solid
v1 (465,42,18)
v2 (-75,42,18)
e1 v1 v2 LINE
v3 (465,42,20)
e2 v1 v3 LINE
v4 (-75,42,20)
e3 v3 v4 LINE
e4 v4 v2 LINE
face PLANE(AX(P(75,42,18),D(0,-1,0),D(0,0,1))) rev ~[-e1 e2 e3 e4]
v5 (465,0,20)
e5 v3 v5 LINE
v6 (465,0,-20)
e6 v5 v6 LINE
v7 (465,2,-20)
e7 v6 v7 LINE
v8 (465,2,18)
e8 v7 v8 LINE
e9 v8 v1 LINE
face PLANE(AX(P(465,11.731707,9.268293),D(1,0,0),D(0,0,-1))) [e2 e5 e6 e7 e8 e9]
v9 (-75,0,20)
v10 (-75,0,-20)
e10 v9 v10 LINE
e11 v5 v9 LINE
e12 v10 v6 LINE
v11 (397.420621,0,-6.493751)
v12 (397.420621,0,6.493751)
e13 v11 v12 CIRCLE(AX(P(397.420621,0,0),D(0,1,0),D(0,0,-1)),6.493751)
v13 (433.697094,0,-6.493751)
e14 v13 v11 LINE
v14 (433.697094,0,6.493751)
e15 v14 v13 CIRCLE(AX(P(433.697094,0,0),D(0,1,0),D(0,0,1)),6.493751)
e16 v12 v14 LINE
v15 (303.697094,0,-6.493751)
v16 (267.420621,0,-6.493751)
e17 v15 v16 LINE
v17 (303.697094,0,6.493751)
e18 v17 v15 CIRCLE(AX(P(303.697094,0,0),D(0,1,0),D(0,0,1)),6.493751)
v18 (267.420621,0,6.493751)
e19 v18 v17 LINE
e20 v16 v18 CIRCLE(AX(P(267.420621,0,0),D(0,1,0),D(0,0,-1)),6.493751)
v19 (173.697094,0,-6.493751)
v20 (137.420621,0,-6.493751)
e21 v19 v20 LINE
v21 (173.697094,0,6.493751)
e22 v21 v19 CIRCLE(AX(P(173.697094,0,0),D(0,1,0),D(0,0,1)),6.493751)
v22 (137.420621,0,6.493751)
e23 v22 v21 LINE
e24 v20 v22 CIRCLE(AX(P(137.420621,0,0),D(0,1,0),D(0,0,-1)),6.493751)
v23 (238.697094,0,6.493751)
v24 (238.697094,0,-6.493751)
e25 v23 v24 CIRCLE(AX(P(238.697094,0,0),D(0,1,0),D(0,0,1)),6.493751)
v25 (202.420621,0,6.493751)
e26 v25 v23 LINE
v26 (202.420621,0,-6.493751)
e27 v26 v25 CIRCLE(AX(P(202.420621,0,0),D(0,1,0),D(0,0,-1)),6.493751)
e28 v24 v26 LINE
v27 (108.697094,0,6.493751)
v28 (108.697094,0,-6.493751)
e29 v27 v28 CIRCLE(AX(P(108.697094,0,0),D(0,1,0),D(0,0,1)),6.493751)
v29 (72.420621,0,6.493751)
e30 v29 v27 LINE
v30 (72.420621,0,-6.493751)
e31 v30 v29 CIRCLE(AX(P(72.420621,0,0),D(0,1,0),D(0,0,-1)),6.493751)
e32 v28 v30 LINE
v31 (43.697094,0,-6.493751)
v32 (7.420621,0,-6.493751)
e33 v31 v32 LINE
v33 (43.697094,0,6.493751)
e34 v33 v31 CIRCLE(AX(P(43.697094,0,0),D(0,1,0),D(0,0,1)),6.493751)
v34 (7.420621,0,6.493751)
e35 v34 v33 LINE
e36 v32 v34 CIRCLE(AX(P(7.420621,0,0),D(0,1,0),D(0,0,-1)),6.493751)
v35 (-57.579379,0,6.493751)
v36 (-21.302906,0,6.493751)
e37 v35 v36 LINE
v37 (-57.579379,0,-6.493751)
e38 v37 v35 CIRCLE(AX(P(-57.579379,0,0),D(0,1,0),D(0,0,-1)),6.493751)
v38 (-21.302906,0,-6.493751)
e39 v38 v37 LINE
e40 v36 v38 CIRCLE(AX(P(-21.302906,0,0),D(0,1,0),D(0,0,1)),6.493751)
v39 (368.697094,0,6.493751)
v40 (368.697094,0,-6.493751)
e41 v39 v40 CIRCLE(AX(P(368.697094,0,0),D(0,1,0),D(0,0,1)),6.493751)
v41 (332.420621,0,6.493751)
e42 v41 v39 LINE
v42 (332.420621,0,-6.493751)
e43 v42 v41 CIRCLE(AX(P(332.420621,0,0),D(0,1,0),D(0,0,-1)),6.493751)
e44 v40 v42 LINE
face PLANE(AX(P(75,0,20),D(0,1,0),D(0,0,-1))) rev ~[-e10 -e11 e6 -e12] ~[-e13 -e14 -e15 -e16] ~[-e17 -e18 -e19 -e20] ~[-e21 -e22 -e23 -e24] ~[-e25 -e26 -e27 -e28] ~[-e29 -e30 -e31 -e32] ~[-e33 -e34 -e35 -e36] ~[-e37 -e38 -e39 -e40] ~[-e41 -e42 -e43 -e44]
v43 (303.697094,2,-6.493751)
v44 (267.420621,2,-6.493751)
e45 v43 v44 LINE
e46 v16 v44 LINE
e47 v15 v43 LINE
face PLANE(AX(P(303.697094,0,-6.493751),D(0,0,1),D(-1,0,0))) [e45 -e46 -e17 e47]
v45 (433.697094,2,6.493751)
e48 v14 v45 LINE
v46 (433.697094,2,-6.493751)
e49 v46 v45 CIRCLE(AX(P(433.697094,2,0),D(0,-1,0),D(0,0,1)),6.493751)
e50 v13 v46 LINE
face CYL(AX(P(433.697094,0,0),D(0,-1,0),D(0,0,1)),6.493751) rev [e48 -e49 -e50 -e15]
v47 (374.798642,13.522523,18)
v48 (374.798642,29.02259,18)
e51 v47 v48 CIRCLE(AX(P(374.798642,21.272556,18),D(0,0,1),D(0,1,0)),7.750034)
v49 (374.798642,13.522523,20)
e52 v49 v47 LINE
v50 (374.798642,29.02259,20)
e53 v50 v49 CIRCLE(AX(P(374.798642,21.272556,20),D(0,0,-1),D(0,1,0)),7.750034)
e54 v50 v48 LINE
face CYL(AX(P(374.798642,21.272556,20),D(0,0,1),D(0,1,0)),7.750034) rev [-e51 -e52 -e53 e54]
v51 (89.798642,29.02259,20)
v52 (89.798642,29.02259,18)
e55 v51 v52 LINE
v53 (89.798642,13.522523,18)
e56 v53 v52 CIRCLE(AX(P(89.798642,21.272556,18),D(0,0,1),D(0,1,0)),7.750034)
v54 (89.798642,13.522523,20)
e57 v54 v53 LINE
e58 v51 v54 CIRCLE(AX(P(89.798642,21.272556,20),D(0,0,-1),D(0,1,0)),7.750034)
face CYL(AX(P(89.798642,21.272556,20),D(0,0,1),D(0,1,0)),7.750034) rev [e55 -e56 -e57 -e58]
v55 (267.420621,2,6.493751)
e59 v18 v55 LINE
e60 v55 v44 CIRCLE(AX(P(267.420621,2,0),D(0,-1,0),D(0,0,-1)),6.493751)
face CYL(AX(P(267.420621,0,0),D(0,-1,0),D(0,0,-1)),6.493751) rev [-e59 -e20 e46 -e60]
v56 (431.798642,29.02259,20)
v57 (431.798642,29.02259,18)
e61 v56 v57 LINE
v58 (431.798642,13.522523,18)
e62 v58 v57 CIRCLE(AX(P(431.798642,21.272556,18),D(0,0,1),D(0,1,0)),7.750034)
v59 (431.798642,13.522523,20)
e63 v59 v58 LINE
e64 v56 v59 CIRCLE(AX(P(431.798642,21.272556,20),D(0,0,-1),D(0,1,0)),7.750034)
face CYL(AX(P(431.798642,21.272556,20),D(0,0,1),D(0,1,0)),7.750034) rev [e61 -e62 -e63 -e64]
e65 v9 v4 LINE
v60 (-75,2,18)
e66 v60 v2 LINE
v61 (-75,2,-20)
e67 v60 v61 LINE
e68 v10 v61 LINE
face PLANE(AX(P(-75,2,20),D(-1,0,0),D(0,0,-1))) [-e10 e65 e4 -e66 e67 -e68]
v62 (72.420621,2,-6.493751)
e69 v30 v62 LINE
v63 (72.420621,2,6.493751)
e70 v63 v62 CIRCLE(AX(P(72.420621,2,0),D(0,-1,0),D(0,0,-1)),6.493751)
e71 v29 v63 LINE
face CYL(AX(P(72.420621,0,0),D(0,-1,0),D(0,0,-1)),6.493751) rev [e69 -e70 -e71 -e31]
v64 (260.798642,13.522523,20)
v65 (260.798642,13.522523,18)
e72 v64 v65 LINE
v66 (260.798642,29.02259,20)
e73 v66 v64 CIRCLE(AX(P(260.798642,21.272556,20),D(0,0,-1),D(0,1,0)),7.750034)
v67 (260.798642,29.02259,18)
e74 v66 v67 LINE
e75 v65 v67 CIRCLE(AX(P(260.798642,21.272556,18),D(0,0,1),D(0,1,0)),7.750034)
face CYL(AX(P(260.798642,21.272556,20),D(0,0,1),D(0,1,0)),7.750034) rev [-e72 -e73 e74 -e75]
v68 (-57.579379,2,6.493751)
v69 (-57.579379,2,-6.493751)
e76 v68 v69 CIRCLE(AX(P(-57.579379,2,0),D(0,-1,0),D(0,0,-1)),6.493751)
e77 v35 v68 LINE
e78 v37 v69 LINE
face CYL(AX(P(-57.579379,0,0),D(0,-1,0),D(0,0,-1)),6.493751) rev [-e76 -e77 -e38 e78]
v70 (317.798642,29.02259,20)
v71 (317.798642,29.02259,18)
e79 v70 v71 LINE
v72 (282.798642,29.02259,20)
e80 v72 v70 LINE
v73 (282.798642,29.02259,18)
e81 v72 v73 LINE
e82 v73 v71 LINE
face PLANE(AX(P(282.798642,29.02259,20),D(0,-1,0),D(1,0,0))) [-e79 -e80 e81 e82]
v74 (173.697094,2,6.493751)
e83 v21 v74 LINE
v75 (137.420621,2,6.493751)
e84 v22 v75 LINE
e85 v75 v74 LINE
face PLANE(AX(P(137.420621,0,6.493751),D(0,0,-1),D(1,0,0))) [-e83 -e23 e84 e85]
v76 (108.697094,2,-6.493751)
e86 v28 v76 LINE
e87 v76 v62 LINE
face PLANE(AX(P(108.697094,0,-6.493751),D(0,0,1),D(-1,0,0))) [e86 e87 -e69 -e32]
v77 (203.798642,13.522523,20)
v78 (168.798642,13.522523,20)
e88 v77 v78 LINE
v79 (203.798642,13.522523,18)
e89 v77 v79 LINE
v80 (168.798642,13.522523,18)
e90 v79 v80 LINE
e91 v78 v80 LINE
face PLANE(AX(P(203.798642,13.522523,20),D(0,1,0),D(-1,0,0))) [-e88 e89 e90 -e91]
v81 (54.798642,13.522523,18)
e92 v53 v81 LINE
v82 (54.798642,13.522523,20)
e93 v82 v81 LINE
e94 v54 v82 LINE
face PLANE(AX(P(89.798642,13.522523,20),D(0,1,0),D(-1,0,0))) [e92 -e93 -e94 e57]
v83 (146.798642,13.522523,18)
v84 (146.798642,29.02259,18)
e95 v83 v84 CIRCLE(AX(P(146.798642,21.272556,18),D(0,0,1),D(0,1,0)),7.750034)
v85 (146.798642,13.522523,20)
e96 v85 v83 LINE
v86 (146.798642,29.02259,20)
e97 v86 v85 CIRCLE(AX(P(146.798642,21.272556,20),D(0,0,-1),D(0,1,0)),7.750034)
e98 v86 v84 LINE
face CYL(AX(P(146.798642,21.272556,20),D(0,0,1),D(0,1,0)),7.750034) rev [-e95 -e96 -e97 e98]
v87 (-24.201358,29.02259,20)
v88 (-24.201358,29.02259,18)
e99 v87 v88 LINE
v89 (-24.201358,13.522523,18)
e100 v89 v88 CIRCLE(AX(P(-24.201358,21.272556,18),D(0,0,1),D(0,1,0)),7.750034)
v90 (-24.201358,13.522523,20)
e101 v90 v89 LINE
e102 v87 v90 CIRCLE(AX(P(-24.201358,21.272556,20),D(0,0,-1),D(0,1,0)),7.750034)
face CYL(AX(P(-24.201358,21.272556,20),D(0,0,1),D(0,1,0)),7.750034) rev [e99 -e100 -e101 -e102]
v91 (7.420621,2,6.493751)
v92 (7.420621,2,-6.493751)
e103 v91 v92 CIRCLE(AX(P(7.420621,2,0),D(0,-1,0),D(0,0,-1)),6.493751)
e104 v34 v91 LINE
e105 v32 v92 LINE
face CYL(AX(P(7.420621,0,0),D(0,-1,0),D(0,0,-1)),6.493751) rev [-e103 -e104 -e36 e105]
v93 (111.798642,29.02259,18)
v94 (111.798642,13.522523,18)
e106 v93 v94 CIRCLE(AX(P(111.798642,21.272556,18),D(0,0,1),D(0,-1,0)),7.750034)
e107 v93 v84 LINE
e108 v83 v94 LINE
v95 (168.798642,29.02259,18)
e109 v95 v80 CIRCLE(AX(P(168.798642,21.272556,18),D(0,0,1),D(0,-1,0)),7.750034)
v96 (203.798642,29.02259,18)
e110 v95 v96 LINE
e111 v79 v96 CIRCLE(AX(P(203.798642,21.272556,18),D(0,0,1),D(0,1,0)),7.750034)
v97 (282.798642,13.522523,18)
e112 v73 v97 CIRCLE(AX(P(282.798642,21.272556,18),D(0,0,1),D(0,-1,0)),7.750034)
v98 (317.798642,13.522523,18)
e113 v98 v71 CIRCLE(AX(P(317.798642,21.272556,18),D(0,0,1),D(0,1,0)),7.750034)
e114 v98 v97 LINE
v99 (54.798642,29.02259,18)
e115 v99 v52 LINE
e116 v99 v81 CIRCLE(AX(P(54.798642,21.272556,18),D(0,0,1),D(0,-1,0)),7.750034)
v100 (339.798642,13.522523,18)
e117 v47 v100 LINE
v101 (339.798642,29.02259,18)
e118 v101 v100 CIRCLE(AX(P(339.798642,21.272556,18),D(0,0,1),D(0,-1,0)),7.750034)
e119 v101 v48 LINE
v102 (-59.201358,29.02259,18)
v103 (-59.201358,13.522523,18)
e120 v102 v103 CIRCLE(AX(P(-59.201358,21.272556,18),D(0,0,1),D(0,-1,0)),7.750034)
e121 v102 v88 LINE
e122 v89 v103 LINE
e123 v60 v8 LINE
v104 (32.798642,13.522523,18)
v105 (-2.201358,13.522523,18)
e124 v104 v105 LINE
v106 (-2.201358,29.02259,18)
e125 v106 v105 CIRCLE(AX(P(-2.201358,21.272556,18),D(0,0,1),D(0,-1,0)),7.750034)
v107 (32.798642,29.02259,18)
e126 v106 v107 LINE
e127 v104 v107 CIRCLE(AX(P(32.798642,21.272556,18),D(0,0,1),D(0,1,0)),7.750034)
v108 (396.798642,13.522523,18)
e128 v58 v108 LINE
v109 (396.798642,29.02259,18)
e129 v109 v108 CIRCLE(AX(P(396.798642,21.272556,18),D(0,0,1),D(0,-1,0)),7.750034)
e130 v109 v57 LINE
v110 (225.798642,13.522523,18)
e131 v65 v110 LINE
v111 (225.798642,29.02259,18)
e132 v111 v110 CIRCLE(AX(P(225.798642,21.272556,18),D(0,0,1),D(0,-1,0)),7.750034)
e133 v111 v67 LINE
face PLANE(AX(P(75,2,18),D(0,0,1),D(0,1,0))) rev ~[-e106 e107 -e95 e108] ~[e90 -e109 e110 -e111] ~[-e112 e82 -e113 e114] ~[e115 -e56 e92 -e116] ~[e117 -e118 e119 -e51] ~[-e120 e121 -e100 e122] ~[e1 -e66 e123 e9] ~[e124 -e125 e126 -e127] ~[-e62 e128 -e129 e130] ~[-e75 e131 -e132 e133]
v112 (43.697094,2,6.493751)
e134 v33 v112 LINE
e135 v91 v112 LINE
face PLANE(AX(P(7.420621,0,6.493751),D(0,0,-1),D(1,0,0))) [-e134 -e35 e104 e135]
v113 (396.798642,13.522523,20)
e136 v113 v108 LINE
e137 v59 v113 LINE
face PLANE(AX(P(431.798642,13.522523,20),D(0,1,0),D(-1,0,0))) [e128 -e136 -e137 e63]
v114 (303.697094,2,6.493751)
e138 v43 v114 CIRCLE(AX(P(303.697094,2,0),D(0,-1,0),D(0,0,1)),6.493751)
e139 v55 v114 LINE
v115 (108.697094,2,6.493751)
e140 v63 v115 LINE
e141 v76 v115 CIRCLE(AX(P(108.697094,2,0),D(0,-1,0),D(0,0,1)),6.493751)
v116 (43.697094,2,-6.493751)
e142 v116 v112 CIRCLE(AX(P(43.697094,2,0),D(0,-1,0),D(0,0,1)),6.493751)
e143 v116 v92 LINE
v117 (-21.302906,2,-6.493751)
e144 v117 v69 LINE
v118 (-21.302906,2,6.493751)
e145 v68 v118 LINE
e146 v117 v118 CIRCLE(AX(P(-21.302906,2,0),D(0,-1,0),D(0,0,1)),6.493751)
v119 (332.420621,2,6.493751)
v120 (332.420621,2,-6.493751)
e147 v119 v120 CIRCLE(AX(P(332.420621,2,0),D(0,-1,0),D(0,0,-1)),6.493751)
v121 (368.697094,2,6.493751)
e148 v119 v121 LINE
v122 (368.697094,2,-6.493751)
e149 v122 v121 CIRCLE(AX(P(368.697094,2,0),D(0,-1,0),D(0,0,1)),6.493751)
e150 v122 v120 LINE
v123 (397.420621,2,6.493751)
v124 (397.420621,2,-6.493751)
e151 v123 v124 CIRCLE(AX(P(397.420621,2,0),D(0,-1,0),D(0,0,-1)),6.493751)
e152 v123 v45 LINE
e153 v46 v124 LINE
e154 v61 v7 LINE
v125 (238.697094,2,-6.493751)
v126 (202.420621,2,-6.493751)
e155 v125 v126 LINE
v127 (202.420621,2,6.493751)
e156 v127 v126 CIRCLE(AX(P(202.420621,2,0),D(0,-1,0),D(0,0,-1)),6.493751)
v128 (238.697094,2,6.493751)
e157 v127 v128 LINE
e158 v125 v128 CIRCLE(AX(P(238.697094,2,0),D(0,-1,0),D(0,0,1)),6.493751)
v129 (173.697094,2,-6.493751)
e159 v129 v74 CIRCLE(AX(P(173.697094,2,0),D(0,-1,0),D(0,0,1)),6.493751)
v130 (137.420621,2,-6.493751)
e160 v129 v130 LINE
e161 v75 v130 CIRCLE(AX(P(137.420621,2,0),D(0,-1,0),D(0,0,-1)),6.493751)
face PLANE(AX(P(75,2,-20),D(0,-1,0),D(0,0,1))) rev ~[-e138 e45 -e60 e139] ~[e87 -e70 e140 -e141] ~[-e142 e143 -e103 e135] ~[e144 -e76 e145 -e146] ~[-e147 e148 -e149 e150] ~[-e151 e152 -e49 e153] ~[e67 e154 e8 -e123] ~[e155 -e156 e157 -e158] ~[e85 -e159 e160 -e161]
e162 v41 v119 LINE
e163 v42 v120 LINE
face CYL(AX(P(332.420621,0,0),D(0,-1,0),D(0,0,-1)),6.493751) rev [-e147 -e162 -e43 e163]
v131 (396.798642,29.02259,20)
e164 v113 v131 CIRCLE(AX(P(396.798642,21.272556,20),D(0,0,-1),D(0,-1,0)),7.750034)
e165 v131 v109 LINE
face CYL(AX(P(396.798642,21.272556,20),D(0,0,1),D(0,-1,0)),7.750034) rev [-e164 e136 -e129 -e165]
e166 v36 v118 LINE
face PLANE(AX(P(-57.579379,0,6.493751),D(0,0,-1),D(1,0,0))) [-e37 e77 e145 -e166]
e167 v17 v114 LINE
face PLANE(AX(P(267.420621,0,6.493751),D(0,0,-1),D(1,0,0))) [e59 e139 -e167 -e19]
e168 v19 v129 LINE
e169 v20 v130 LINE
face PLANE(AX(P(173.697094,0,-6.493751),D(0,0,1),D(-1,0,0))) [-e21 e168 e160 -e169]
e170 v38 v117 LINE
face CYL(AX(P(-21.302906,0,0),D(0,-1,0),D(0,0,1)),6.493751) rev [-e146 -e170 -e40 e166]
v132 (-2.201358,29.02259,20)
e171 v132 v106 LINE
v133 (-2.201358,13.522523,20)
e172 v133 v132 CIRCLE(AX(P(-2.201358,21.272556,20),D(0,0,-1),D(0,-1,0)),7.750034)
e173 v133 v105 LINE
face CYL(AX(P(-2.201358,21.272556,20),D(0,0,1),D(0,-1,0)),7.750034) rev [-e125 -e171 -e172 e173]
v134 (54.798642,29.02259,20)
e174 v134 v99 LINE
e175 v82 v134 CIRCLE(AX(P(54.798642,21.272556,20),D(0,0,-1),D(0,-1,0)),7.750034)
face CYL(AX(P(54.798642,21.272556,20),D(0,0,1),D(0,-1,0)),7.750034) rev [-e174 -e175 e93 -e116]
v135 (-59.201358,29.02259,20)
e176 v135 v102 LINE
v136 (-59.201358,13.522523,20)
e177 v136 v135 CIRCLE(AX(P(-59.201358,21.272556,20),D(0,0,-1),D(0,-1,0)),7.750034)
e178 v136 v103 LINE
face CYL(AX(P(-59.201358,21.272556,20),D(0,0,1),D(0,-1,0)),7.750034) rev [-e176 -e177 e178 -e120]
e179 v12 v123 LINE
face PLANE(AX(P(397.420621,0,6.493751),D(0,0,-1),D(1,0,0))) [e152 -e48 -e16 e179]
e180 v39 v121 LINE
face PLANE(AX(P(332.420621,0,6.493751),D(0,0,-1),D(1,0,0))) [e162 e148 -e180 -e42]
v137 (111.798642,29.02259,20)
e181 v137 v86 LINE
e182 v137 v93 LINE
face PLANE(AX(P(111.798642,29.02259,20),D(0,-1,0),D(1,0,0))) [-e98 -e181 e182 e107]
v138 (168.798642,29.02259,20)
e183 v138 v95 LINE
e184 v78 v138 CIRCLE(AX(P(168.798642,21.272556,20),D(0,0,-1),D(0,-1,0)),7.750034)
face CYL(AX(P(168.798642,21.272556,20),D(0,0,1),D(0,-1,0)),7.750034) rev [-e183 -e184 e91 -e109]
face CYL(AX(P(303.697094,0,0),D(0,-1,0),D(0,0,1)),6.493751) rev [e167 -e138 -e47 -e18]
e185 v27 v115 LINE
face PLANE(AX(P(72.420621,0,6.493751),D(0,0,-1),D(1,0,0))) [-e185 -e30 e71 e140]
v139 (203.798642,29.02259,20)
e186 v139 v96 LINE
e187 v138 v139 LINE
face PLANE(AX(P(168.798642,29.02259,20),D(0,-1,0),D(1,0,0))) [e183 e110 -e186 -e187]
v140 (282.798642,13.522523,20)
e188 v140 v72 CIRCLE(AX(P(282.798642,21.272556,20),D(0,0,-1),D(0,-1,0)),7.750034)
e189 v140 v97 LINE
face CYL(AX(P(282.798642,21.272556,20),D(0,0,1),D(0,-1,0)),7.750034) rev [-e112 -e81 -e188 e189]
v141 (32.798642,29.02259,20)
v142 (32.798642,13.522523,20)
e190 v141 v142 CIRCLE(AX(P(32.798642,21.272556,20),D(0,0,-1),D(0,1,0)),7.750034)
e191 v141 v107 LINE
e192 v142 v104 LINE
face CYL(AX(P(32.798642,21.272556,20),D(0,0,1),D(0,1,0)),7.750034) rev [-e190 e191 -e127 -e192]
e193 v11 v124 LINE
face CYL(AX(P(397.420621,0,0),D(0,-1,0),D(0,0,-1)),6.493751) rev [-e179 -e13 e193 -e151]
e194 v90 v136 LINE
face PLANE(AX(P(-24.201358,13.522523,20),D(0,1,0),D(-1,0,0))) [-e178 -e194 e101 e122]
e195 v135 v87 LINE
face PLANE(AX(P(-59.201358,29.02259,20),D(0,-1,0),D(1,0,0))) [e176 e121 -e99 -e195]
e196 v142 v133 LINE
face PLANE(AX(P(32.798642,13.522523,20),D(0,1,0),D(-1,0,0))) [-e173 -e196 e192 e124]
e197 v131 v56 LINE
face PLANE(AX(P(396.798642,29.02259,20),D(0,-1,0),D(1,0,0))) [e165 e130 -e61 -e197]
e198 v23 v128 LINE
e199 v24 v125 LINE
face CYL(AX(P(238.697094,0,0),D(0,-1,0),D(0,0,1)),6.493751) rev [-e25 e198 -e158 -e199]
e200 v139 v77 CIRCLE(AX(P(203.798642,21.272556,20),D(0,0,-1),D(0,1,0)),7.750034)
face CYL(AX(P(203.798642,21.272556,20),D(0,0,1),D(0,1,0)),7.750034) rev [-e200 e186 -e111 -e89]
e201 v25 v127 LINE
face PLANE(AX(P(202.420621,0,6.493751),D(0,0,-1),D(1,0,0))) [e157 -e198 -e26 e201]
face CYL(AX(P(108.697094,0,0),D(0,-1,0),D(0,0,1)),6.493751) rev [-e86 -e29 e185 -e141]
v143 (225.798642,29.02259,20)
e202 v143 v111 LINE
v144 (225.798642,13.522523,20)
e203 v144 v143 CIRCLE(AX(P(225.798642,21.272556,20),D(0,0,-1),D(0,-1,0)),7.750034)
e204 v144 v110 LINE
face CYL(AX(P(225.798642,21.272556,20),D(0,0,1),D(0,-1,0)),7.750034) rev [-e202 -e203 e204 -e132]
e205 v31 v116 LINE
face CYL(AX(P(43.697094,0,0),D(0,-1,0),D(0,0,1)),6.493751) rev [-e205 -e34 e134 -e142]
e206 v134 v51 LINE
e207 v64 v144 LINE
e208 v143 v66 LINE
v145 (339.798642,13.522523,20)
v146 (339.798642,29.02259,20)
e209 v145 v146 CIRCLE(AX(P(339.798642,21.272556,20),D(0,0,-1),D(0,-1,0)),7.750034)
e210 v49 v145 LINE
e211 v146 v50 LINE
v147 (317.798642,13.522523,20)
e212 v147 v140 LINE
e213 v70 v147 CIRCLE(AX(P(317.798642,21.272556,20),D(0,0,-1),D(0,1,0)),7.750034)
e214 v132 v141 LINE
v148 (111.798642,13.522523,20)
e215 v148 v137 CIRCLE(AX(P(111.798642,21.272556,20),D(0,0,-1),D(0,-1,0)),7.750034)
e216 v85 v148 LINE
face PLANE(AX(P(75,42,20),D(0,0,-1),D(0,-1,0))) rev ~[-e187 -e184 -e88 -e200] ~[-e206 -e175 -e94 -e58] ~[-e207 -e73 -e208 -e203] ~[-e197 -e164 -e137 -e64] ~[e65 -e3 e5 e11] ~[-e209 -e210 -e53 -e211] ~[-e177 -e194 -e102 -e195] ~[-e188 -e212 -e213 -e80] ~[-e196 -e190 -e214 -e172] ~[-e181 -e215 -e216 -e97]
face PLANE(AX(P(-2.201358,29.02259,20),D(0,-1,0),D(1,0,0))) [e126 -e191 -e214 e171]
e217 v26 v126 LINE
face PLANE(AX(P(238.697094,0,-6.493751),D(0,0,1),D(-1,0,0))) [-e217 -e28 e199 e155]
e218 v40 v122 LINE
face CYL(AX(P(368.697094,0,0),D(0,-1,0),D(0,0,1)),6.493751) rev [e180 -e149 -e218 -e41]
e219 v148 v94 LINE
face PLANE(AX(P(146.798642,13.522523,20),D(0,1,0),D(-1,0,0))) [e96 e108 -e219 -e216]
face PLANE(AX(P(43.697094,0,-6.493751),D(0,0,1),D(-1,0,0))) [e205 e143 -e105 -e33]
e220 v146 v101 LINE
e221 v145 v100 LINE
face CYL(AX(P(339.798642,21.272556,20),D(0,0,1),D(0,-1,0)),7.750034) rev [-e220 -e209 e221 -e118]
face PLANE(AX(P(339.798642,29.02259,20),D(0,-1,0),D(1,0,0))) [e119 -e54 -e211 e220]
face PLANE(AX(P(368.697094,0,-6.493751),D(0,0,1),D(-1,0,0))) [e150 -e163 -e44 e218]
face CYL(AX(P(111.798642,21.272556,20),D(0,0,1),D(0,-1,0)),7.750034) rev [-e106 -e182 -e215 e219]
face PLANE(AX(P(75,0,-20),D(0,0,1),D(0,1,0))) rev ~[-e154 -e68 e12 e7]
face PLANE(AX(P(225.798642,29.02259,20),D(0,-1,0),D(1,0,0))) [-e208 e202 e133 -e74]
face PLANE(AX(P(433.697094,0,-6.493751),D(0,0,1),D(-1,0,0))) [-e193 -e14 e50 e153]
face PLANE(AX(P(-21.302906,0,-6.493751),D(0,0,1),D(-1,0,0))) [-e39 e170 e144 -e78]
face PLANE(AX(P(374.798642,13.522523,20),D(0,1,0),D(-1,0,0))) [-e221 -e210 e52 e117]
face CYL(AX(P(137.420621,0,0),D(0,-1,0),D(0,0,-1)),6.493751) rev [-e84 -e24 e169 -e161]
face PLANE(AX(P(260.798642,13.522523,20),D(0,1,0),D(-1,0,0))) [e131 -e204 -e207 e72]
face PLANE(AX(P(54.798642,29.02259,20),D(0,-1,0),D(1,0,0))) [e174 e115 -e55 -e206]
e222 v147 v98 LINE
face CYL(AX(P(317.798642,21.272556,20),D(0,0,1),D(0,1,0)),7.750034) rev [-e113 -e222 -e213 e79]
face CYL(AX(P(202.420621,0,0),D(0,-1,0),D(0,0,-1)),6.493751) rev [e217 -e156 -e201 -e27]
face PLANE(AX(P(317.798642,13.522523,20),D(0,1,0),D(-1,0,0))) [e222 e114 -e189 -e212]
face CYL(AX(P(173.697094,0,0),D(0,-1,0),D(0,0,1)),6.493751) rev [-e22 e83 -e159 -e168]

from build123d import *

# Parameters (mm, degrees)
SKETCH1_W           = 150
SKETCH1_H           = 40
BOSS_EXTRUDE1_DEPTH = 2
SKETCH2_W           = 150
SKETCH2_H           = 2
BOSS_EXTRUDE2_DEPTH = 40
BOSS_EXTRUDE3_DEPTH = 390
CUT_EXTRUDE1_DEPTH  = 10
CUT_EXTRUDE2_DEPTH  = 10


with BuildPart() as part:
    # Sketch1 → Boss-Extrude1 (new body)
    with BuildSketch(Plane(origin=(0, 0, 0), x_dir=(1, 0, 0), z_dir=(0, 1, 0))):
        Rectangle(SKETCH1_W, SKETCH1_H)
    extrude(amount=BOSS_EXTRUDE1_DEPTH)

    # Sketch2 → Boss-Extrude2 (add)
    with BuildSketch(Plane(origin=(0, 2, 0), x_dir=(1, 0, 0), z_dir=(0, 1, 0))):
        with Locations((0, -19)):
            Rectangle(SKETCH2_W, SKETCH2_H)
    extrude(amount=BOSS_EXTRUDE2_DEPTH)

    # Sketch5 → Boss-Extrude3 (add)
    with BuildSketch(Plane(origin=(75, 0, 0), x_dir=(0, 0, -1), z_dir=(1, 0, 0))):
        Polygon((-20, 0), (20, 0), (20, 2), (-18, 2), (-18, 42), (-20, 42), align=None)
    extrude(amount=BOSS_EXTRUDE3_DEPTH)

    # Sketch6 → Cut-Extrude1 (cut)
    with BuildSketch(Plane.XZ):
        with BuildLine():
            Line((7.420621343, 6.493750786), (43.697093864, 6.493750786))
            ThreePointArc((43.697093864, 6.493750786), (50.190844651, 0), (43.697093864, -6.493750786))
            Line((43.697093864, -6.493750786), (7.420621343, -6.493750786))
            ThreePointArc((7.420621343, -6.493750786), (0.926870557, 0), (7.420621343, 6.493750786))
        make_face()
        with BuildLine():
            Line((-57.579378657, 6.493750786), (-21.302906136, 6.493750786))
            ThreePointArc((-21.302906136, 6.493750786), (-14.809155349, 0), (-21.302906136, -6.493750786))
            Line((-21.302906136, -6.493750786), (-57.579378657, -6.493750786))
            ThreePointArc((-57.579378657, -6.493750786), (-64.073129443, 0), (-57.579378657, 6.493750786))
        make_face()
        with BuildLine():
            Line((72.420621343, 6.493750786), (108.697093864, 6.493750786))
            ThreePointArc((108.697093864, 6.493750786), (115.190844651, 0), (108.697093864, -6.493750786))
            Line((108.697093864, -6.493750786), (72.420621343, -6.493750786))
            ThreePointArc((72.420621343, -6.493750786), (65.926870557, 0), (72.420621343, 6.493750786))
        make_face()
        with BuildLine():
            Line((137.420621343, 6.493750786), (173.697093864, 6.493750786))
            ThreePointArc((173.697093864, 6.493750786), (180.190844651, 0), (173.697093864, -6.493750786))
            Line((173.697093864, -6.493750786), (137.420621343, -6.493750786))
            ThreePointArc((137.420621343, -6.493750786), (130.926870557, 0), (137.420621343, 6.493750786))
        make_face()
        with BuildLine():
            Line((202.420621343, 6.493750786), (238.697093864, 6.493750786))
            ThreePointArc((238.697093864, 6.493750786), (245.190844651, 0), (238.697093864, -6.493750786))
            Line((238.697093864, -6.493750786), (202.420621343, -6.493750786))
            ThreePointArc((202.420621343, -6.493750786), (195.926870557, 0), (202.420621343, 6.493750786))
        make_face()
        with BuildLine():
            Line((267.420621343, 6.493750786), (303.697093864, 6.493750786))
            ThreePointArc((303.697093864, 6.493750786), (310.190844651, 0), (303.697093864, -6.493750786))
            Line((303.697093864, -6.493750786), (267.420621343, -6.493750786))
            ThreePointArc((267.420621343, -6.493750786), (260.926870557, 0), (267.420621343, 6.493750786))
        make_face()
        with BuildLine():
            Line((332.420621343, 6.493750786), (368.697093864, 6.493750786))
            ThreePointArc((368.697093864, 6.493750786), (375.190844651, 0), (368.697093864, -6.493750786))
            Line((368.697093864, -6.493750786), (332.420621343, -6.493750786))
            ThreePointArc((332.420621343, -6.493750786), (325.926870557, 0), (332.420621343, 6.493750786))
        make_face()
        with BuildLine():
            Line((397.420621343, 6.493750786), (433.697093864, 6.493750786))
            ThreePointArc((433.697093864, 6.493750786), (440.190844651, 0), (433.697093864, -6.493750786))
            Line((433.697093864, -6.493750786), (397.420621343, -6.493750786))
            ThreePointArc((397.420621343, -6.493750786), (390.926870557, 0), (397.420621343, 6.493750786))
        make_face()
    extrude(amount=-CUT_EXTRUDE1_DEPTH, mode=Mode.SUBTRACT)

    # Sketch7 → Cut-Extrude2 (cut)
    with BuildSketch(Plane.XY.offset(20)):
        with BuildLine():
            Line((-2.201358411, 29.022590271), (32.798641589, 29.022590271))
            ThreePointArc((32.798641589, 29.022590271), (40.548675365, 21.272556495), (32.798641589, 13.522522718))
            Line((32.798641589, 13.522522718), (-2.201358411, 13.522522718))
            ThreePointArc((-2.201358411, 13.522522718), (-9.951392188, 21.272556495), (-2.201358411, 29.022590271))
        make_face()
        with BuildLine():
            Line((-59.201358411, 29.022590271), (-24.201358411, 29.022590271))
            ThreePointArc((-24.201358411, 29.022590271), (-16.451324635, 21.272556495), (-24.201358411, 13.522522718))
            Line((-24.201358411, 13.522522718), (-59.201358411, 13.522522718))
            ThreePointArc((-59.201358411, 13.522522718), (-66.951392188, 21.272556495), (-59.201358411, 29.022590271))
        make_face()
        with BuildLine():
            Line((54.798641589, 29.022590271), (89.798641589, 29.022590271))
            ThreePointArc((89.798641589, 29.022590271), (97.548675365, 21.272556495), (89.798641589, 13.522522718))
            Line((89.798641589, 13.522522718), (54.798641589, 13.522522718))
            ThreePointArc((54.798641589, 13.522522718), (47.048607812, 21.272556495), (54.798641589, 29.022590271))
        make_face()
        with BuildLine():
            Line((111.798641589, 29.022590271), (146.798641589, 29.022590271))
            ThreePointArc((146.798641589, 29.022590271), (154.548675365, 21.272556495), (146.798641589, 13.522522718))
            Line((146.798641589, 13.522522718), (111.798641589, 13.522522718))
            ThreePointArc((111.798641589, 13.522522718), (104.048607812, 21.272556495), (111.798641589, 29.022590271))
        make_face()
        with BuildLine():
            Line((168.798641589, 29.022590271), (203.798641589, 29.022590271))
            ThreePointArc((203.798641589, 29.022590271), (211.548675365, 21.272556495), (203.798641589, 13.522522718))
            Line((203.798641589, 13.522522718), (168.798641589, 13.522522718))
            ThreePointArc((168.798641589, 13.522522718), (161.048607812, 21.272556495), (168.798641589, 29.022590271))
        make_face()
        with BuildLine():
            Line((225.798641589, 29.022590271), (260.798641589, 29.022590271))
            ThreePointArc((260.798641589, 29.022590271), (268.548675365, 21.272556495), (260.798641589, 13.522522718))
            Line((260.798641589, 13.522522718), (225.798641589, 13.522522718))
            ThreePointArc((225.798641589, 13.522522718), (218.048607812, 21.272556495), (225.798641589, 29.022590271))
        make_face()
        with BuildLine():
            Line((282.798641589, 29.022590271), (317.798641589, 29.022590271))
            ThreePointArc((317.798641589, 29.022590271), (325.548675365, 21.272556495), (317.798641589, 13.522522718))
            Line((317.798641589, 13.522522718), (282.798641589, 13.522522718))
            ThreePointArc((282.798641589, 13.522522718), (275.048607812, 21.272556495), (282.798641589, 29.022590271))
        make_face()
        with BuildLine():
            Line((339.798641589, 29.022590271), (374.798641589, 29.022590271))
            ThreePointArc((374.798641589, 29.022590271), (382.548675365, 21.272556495), (374.798641589, 13.522522718))
            Line((374.798641589, 13.522522718), (339.798641589, 13.522522718))
            ThreePointArc((339.798641589, 13.522522718), (332.048607812, 21.272556495), (339.798641589, 29.022590271))
        make_face()
        with BuildLine():
            Line((396.798641589, 29.022590271), (431.798641589, 29.022590271))
            ThreePointArc((431.798641589, 29.022590271), (439.548675365, 21.272556495), (431.798641589, 13.522522718))
            Line((431.798641589, 13.522522718), (396.798641589, 13.522522718))
            ThreePointArc((396.798641589, 13.522522718), (389.048607812, 21.272556495), (396.798641589, 29.022590271))
        make_face()
    extrude(amount=-CUT_EXTRUDE2_DEPTH, mode=Mode.SUBTRACT)


solid = part.part
